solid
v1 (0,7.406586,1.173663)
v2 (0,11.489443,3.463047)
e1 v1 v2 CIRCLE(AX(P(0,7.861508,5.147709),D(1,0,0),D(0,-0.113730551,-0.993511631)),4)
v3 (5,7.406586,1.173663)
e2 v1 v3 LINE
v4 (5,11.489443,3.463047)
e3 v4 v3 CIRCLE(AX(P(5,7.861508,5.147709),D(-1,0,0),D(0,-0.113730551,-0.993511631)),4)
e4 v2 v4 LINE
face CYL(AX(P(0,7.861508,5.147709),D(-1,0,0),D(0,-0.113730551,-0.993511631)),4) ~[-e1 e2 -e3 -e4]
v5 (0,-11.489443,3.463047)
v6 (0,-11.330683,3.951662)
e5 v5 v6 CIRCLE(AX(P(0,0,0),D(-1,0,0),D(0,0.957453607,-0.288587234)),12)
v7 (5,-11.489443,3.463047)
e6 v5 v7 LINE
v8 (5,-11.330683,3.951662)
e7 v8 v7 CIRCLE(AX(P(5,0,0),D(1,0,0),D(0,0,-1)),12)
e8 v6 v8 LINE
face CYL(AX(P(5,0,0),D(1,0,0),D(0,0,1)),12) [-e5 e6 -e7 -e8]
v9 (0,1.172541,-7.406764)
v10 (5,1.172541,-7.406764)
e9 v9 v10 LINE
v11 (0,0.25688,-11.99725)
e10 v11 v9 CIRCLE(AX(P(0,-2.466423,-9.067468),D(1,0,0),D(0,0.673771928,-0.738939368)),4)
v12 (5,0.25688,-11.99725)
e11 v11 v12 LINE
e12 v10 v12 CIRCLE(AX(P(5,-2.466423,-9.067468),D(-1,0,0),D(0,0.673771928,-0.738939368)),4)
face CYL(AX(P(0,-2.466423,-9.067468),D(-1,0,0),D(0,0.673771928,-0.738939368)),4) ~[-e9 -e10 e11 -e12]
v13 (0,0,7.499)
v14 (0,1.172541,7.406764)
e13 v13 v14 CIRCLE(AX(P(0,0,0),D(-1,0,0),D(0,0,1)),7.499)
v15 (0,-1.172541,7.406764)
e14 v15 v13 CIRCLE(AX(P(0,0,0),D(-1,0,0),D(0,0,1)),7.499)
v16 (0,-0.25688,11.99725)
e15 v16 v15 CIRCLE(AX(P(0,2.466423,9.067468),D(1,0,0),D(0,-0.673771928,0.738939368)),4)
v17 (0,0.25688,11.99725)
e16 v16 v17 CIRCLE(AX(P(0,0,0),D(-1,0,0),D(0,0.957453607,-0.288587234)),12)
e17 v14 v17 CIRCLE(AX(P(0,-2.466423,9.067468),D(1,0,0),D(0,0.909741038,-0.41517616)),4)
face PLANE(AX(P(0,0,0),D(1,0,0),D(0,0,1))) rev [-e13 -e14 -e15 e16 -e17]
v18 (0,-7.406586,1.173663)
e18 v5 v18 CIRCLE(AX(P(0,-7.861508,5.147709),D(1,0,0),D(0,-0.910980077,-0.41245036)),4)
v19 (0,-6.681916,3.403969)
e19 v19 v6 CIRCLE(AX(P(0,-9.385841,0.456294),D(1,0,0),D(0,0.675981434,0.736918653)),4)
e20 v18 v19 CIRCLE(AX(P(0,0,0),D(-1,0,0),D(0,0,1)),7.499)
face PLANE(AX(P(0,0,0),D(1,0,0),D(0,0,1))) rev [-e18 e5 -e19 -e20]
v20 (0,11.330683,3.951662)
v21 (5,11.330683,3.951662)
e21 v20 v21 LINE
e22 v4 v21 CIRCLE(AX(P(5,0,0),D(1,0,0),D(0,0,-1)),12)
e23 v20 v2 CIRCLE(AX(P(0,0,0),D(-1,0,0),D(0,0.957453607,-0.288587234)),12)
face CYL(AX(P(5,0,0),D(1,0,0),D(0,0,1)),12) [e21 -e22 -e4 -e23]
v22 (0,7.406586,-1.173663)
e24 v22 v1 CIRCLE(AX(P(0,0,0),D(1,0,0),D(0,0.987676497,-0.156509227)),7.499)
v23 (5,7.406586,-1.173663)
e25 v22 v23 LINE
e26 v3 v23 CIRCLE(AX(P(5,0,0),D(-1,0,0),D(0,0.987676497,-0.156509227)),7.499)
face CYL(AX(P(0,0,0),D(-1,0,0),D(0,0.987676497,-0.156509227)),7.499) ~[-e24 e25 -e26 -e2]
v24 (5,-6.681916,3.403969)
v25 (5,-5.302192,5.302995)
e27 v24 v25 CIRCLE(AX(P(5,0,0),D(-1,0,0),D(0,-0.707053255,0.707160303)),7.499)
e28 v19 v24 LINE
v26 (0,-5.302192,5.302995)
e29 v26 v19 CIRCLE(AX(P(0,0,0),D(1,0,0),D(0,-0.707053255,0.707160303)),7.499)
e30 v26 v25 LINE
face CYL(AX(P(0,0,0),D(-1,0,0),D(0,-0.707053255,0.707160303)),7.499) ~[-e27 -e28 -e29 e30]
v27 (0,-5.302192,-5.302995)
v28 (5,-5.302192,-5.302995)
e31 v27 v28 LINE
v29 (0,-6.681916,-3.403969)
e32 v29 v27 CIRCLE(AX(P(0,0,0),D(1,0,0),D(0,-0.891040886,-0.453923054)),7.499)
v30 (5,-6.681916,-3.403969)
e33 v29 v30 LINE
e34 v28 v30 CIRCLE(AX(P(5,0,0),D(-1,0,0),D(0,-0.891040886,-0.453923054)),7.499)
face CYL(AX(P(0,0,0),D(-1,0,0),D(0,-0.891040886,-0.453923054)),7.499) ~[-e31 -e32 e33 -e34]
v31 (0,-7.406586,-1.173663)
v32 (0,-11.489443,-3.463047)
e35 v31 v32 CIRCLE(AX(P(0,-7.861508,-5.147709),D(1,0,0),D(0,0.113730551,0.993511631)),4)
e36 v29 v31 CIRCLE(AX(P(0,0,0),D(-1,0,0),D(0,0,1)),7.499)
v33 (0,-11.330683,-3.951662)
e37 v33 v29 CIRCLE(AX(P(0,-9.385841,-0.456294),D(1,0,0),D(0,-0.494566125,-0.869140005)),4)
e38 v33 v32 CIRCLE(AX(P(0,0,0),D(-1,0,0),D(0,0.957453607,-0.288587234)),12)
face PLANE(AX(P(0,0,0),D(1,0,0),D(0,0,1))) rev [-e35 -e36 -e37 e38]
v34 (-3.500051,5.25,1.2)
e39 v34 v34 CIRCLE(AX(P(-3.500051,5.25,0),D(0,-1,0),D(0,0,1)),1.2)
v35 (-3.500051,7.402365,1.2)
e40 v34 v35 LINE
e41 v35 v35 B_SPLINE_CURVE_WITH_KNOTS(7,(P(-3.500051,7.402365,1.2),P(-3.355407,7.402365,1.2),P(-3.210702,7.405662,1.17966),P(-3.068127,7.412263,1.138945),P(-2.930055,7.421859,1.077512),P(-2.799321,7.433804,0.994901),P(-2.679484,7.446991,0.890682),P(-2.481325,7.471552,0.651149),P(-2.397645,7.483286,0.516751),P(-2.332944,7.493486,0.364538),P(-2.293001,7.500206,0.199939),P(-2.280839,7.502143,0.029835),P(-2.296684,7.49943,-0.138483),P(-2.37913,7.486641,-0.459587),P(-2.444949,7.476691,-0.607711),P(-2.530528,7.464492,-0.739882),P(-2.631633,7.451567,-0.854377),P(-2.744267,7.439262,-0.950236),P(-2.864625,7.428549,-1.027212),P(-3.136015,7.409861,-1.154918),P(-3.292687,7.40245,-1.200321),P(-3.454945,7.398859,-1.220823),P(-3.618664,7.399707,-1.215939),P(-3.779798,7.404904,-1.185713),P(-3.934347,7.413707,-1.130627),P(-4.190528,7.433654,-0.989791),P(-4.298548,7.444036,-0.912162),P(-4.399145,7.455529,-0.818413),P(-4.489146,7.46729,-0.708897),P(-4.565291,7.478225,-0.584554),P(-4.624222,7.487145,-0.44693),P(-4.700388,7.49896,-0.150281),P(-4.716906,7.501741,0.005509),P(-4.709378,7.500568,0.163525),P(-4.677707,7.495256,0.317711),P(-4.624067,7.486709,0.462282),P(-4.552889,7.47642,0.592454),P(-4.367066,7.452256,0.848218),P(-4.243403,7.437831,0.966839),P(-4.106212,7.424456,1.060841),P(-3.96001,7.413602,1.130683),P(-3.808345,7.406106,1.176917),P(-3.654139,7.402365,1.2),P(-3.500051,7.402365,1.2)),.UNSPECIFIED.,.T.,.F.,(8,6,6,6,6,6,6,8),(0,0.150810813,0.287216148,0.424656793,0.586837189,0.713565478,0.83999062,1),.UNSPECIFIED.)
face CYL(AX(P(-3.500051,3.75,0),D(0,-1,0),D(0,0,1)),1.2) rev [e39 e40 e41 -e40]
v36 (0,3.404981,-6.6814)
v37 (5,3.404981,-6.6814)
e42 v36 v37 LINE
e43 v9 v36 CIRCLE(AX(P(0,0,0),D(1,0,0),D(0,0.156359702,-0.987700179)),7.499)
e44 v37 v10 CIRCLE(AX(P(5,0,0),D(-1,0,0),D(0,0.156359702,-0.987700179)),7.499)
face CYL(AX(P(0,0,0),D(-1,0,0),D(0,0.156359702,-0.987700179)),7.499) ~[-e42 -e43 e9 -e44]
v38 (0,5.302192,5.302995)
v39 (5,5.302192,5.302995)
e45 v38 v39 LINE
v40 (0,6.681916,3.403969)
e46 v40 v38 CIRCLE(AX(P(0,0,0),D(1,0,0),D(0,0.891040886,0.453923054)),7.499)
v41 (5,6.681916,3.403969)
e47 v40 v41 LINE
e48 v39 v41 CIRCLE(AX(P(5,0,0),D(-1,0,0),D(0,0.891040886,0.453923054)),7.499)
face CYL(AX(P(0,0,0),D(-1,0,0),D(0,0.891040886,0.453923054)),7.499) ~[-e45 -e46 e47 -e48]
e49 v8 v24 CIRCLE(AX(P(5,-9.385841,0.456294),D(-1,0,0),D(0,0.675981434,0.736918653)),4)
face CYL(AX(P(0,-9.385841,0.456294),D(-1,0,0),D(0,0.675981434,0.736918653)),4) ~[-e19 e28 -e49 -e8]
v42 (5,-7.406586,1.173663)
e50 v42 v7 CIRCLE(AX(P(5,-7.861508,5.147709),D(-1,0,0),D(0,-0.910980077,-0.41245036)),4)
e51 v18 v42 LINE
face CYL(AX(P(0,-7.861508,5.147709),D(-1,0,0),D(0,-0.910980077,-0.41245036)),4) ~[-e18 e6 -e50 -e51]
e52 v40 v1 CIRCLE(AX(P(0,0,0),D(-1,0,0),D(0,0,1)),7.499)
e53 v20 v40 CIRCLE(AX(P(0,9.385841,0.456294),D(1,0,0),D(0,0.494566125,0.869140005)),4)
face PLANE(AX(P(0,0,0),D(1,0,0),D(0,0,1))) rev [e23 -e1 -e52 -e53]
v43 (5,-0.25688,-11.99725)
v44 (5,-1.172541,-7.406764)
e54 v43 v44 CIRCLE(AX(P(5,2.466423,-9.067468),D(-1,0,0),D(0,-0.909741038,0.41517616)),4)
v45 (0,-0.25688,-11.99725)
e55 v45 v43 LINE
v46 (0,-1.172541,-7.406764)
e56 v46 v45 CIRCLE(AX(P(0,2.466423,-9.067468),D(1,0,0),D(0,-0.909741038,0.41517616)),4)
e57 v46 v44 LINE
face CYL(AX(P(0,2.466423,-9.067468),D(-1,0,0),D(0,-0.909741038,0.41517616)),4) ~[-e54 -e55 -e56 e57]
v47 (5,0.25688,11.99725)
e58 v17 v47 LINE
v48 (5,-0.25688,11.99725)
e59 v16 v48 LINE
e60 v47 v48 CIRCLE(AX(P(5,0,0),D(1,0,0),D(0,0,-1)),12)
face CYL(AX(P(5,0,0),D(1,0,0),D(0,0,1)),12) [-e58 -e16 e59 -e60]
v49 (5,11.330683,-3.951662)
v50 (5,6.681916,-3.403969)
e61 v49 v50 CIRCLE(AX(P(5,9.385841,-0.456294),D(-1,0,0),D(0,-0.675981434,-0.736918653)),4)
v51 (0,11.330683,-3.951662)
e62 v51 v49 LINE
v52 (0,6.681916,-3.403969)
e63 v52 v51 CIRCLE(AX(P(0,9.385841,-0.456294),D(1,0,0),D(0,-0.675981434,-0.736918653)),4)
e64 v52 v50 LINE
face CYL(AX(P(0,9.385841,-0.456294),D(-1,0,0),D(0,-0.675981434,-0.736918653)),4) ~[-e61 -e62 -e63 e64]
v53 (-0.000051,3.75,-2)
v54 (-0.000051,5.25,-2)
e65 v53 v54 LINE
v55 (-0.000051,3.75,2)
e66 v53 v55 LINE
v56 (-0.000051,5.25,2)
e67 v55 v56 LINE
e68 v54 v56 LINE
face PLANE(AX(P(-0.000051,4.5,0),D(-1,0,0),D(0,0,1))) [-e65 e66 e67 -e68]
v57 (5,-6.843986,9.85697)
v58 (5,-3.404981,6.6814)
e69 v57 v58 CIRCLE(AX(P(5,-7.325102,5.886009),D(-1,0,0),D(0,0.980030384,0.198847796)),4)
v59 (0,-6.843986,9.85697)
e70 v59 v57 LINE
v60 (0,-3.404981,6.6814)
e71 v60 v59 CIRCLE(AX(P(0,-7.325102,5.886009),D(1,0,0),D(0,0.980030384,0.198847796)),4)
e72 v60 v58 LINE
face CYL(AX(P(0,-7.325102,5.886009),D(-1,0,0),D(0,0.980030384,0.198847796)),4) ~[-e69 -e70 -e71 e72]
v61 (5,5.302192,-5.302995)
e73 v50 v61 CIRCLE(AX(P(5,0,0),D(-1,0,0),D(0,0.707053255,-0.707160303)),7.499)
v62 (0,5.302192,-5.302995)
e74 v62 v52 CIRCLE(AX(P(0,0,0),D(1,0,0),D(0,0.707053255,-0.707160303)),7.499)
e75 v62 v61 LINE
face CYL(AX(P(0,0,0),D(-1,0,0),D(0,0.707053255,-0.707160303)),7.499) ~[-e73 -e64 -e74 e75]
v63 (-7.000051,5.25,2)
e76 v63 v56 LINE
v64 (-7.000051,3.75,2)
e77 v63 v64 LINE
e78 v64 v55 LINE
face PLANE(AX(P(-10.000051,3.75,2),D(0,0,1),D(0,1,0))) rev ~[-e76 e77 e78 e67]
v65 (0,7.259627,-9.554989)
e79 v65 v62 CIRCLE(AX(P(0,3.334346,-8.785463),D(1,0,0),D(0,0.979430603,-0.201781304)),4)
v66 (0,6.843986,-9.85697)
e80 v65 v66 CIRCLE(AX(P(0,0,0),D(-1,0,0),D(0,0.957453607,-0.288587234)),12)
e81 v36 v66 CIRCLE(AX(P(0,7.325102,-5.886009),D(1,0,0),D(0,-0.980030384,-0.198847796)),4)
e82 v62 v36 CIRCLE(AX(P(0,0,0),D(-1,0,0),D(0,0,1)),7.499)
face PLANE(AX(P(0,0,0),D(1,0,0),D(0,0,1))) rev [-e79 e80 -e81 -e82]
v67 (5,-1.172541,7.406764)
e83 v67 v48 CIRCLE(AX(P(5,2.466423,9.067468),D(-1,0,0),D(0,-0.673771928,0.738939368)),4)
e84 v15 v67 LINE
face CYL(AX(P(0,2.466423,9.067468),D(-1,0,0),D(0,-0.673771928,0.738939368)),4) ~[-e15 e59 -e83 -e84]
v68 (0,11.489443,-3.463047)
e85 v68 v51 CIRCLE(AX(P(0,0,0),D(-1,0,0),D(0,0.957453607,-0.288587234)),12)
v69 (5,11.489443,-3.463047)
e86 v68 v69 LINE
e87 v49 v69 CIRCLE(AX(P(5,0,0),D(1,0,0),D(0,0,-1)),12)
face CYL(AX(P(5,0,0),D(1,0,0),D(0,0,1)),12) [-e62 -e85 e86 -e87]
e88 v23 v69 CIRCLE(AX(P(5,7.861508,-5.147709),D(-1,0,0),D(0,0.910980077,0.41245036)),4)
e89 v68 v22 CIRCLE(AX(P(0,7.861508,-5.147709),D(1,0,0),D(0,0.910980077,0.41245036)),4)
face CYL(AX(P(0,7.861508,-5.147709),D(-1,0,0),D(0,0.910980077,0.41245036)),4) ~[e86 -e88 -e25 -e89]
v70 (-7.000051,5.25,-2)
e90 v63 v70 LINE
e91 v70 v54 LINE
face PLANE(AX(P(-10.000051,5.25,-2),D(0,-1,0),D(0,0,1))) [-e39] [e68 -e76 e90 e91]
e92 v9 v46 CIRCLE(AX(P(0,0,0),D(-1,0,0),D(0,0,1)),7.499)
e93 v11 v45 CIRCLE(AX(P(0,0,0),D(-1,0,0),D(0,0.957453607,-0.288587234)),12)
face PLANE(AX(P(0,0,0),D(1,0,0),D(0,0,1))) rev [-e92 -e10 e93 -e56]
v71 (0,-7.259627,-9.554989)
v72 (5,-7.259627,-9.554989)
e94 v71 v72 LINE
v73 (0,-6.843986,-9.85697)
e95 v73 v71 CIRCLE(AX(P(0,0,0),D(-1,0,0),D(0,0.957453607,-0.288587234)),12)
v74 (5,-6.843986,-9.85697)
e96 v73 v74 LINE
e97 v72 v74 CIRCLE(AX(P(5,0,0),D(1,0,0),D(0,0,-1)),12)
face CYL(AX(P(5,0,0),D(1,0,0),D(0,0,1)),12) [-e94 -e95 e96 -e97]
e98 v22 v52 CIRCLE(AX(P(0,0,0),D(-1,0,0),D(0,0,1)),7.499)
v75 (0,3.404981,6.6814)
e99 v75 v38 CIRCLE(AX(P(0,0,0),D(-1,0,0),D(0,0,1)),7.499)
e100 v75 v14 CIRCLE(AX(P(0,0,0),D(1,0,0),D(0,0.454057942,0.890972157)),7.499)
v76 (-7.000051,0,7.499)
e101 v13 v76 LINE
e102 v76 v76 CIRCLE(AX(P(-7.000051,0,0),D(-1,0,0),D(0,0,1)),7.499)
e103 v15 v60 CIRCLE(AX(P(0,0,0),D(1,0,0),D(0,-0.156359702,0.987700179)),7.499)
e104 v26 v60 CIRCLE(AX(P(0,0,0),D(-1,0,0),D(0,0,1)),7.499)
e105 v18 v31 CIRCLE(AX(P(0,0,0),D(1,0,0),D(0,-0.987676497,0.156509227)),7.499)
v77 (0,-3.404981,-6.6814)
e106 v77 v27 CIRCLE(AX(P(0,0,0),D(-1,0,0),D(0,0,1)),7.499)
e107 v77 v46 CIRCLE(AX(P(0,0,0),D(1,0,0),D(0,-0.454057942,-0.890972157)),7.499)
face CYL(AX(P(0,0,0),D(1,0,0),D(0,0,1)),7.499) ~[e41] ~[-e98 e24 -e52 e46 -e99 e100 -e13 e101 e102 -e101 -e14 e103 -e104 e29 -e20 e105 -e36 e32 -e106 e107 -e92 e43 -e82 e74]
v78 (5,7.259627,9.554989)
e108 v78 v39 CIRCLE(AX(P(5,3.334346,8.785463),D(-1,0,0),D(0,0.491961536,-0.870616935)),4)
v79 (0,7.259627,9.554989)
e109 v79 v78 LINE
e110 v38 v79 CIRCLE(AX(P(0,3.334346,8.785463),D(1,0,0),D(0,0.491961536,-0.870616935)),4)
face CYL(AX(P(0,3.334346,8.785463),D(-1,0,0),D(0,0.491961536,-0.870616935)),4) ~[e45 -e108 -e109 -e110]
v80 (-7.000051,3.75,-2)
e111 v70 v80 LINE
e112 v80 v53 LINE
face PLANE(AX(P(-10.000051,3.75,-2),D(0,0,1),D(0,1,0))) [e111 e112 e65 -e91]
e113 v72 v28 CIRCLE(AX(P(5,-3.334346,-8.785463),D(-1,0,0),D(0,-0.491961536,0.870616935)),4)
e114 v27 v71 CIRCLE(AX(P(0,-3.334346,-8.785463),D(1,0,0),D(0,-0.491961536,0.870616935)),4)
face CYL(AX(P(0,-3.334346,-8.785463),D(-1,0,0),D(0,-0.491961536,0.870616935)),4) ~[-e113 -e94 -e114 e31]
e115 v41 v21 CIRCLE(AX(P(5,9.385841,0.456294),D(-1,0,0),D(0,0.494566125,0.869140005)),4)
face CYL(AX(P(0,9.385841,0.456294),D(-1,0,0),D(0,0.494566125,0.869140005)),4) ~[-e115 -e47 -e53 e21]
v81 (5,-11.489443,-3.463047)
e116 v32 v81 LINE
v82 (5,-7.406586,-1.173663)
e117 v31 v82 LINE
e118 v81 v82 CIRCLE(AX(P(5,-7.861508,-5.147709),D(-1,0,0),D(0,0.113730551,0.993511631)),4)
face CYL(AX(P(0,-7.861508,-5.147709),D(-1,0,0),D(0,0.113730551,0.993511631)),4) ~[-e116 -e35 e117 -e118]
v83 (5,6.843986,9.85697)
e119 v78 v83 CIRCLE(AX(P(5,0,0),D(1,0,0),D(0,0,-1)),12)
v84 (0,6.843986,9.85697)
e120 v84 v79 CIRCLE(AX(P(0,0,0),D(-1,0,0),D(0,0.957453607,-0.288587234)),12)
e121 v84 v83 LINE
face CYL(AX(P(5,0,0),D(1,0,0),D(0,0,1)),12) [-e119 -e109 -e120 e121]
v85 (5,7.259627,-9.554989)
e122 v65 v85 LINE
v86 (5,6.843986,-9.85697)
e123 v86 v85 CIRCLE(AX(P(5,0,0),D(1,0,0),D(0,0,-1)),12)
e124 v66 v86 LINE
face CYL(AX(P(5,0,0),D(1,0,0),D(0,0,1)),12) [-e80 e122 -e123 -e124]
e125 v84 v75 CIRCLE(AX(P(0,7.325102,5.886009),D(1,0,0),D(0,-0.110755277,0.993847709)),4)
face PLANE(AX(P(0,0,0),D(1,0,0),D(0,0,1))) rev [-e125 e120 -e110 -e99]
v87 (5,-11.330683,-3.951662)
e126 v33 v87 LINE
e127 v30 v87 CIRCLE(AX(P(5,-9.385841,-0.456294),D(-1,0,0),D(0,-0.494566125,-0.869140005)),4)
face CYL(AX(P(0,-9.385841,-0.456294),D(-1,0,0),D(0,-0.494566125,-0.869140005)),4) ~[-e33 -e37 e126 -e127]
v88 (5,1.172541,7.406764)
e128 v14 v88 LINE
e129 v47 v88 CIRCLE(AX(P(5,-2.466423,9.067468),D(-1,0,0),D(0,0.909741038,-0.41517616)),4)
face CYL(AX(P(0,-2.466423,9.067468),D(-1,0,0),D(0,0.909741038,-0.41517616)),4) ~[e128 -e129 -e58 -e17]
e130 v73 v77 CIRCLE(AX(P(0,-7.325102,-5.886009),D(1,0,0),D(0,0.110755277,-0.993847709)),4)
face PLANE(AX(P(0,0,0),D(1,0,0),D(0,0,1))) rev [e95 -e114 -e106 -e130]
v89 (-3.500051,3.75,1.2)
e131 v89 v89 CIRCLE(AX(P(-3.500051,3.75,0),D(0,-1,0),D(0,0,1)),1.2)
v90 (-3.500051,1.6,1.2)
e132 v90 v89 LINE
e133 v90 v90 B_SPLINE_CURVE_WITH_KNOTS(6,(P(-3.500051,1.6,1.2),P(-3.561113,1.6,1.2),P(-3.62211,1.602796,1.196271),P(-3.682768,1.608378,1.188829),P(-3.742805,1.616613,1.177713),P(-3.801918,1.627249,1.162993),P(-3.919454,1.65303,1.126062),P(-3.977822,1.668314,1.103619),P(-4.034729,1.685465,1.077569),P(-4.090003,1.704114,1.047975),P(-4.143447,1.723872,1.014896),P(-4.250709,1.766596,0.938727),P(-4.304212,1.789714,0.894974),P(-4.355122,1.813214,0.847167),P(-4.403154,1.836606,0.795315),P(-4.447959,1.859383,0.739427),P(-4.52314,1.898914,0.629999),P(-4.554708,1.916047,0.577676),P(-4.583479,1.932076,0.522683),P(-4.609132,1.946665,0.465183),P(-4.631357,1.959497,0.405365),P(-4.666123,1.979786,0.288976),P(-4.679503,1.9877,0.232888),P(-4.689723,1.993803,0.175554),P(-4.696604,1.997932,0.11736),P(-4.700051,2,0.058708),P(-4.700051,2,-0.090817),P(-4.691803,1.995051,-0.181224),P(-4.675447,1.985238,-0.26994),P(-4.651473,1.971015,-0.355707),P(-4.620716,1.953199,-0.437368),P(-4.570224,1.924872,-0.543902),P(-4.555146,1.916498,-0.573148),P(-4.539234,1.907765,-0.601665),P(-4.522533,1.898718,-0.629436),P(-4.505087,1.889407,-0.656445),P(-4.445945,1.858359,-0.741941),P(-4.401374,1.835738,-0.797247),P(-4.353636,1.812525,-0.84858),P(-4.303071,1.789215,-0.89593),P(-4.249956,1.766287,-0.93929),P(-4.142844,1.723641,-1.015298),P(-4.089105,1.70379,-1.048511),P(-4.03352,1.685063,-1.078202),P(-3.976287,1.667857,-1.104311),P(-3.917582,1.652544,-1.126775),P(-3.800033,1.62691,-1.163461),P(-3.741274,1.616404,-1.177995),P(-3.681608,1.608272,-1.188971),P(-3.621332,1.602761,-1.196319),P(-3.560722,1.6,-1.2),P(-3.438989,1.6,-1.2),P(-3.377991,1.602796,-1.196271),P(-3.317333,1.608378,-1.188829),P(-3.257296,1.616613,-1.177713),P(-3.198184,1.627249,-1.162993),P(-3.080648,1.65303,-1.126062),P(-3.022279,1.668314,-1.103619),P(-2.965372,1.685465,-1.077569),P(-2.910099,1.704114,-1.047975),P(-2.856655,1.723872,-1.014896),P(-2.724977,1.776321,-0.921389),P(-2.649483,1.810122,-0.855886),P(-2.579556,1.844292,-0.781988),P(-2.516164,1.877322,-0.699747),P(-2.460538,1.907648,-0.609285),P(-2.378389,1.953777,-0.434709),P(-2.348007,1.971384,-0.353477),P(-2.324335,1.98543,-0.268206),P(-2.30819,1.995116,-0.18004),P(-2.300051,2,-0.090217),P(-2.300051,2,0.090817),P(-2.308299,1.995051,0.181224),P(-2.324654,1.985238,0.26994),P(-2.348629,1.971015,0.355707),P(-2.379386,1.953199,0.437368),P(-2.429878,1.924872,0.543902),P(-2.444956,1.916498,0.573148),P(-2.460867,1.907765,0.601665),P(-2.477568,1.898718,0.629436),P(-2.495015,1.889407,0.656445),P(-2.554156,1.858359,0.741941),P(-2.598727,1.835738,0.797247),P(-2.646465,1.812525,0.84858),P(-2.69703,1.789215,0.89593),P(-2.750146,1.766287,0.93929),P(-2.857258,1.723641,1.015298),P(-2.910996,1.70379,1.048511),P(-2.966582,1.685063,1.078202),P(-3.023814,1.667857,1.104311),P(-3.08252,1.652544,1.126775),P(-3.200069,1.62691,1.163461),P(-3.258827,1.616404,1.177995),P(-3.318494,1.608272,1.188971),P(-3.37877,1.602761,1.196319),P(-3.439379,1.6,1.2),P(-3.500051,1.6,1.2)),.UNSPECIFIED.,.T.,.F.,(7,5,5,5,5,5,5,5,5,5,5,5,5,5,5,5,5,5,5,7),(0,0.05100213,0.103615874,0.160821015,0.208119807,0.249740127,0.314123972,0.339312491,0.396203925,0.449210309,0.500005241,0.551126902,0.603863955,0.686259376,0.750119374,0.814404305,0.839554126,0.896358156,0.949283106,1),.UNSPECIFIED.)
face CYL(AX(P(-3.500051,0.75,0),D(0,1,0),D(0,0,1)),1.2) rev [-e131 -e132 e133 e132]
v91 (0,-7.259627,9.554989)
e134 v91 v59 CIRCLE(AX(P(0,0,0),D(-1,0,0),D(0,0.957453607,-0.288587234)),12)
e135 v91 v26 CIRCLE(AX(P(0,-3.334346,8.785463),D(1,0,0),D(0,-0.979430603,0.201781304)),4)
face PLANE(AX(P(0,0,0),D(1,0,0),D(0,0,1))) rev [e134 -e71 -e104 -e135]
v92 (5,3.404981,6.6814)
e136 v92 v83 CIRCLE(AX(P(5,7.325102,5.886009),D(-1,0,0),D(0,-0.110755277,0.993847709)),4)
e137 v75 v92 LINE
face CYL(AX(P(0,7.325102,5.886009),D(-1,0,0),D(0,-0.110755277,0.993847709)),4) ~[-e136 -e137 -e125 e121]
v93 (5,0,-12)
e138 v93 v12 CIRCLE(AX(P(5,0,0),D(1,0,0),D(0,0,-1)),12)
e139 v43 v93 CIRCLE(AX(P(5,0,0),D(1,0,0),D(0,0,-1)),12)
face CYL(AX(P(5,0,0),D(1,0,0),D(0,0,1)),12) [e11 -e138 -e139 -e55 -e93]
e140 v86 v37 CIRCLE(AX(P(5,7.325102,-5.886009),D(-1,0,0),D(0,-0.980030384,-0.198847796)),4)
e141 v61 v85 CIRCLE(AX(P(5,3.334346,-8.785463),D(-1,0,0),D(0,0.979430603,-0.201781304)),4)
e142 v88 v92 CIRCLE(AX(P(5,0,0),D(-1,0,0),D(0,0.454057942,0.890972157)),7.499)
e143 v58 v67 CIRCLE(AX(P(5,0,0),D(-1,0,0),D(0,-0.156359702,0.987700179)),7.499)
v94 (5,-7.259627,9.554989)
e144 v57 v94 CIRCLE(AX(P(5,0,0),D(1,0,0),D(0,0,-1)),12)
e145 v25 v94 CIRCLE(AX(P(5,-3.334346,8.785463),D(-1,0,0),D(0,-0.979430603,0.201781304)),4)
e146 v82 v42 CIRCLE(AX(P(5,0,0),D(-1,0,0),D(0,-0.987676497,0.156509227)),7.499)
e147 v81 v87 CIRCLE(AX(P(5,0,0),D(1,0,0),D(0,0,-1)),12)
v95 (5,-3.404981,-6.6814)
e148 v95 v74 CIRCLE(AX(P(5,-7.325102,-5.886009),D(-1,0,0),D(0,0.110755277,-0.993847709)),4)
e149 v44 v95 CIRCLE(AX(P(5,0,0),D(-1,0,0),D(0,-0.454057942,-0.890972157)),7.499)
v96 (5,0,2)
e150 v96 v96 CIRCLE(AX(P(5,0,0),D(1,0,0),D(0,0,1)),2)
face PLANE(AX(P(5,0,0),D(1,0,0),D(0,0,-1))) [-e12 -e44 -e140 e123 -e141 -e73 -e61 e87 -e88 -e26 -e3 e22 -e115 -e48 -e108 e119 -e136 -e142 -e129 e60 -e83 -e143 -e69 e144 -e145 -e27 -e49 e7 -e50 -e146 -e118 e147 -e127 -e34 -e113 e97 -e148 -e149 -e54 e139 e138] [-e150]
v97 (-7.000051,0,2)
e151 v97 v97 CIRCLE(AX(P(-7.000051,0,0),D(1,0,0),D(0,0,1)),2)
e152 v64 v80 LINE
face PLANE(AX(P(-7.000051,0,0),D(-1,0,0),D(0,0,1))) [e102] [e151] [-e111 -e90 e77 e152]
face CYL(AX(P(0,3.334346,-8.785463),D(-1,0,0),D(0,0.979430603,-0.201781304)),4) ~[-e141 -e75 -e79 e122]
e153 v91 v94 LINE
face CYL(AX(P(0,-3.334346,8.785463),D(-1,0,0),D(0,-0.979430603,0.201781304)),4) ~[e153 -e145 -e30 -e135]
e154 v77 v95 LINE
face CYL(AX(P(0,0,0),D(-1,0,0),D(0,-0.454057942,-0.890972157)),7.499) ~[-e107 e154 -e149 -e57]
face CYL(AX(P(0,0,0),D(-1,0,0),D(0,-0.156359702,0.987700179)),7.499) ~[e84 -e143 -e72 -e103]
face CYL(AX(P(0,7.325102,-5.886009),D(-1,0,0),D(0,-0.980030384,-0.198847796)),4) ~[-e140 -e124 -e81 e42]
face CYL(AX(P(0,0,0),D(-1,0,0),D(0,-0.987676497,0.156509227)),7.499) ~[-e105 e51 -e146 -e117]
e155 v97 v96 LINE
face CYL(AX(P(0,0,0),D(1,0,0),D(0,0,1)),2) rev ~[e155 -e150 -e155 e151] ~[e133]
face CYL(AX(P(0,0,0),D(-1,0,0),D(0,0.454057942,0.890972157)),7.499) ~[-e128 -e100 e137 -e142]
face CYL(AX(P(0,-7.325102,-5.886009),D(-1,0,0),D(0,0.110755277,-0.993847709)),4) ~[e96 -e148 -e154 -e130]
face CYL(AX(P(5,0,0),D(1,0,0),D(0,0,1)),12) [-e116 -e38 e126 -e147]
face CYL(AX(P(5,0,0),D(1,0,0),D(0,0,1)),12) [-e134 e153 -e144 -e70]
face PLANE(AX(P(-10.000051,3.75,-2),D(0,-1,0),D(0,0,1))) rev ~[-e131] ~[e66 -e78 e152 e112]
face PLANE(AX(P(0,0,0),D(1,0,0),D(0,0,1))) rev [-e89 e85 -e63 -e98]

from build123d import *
from build123d.topology import SkipClean

# Parameters (mm, degrees)
BASPROSKE_W                  = 10
BASPROSKE_H                  = 12
TOOTHCUT_DEPTH               = 20.697715604
TEETHCUTS_COUNT              = 10
TEETHCUTS_ANGLE              = 324
HUBNEAONESKE_R               = 7.499
HUBNEARONE_DEPTH             = 10.0000508
BORSKE_R                     = 2
BORE_DEPTH                   = 20.0000508
ESQUISSE1_W                  = 4
ESQUISSE1_H                  = 1.5
ENL_V_MAT_EXTRU_1_DEPTH      = 10
ESQUISSE8_R                  = 7.499
ENL_V_MAT_EXTRU_4_DEPTH      = 3
ENL_V_MAT_EXTRU_2_REACH      = 23.823
ENL_V_MAT_EXTRU_2_END_RADIUS = 7.499
ESQUISSE6_R                  = 1.2
ESQUISSE7_R                  = 12
ENL_V_MAT_EXTRU_3_DEPTH      = 5


with BuildPart() as part:
    # BasProSke → Base-Revolve (revolve)
    with BuildSketch(Plane(origin=(0, 0, 0), x_dir=(1, 0, 0), z_dir=(0, 1, 0)), mode=Mode.PRIVATE) as base_revolve_sk:
        with Locations((5, 6)):
            Rectangle(BASPROSKE_W, BASPROSKE_H)
    revolve(base_revolve_sk.sketch.rotate(Axis((-10, 0, 0), (1, 0, 0)), 180), axis=Axis((-10, 0, 0), (1, 0, 0)))

    # TooCutSke → ToothCut (cut, through all)
    with BuildSketch(Plane(origin=(0, 0, 0), x_dir=(0, 0, -1), z_dir=(1, 0, 0))):
        with BuildLine():
            ThreePointArc((1.173662691, 7.406586048), (0, 7.499), (-1.173662691, 7.406586048))
            ThreePointArc((-1.173662691, 7.406586048), (-1.668191438, 9.834565786), (-3.497907776, 11.50542856))
            ThreePointArc((-3.497907776, 11.50542856), (0, 12.0254), (3.497907776, 11.50542856))
            ThreePointArc((3.497907776, 11.50542856), (1.668191438, 9.834565786), (1.173662691, 7.406586048))
        make_face()
    toothcut = extrude(amount=TOOTHCUT_DEPTH, mode=Mode.SUBTRACT)

    # TeethCuts: ToothCut ×10 about axis
    teethcuts_axis = Axis((-10, 0, 0), (1, 0, 0))
    for i in range(1, TEETHCUTS_COUNT):
        add(toothcut.rotate(teethcuts_axis, i * TEETHCUTS_ANGLE / (TEETHCUTS_COUNT - 1)), mode=Mode.SUBTRACT)

    # HubNeaOneSke → HubNearOne (add)
    with SkipClean():  # the faces are left unmerged after this step: merging them gives an invalid solid
        with BuildSketch(Plane.ZY):
            Circle(HUBNEAONESKE_R)
        extrude(amount=HUBNEARONE_DEPTH)

    # BorSke → Bore (cut, symmetric)
    with SkipClean():  # the faces are left unmerged after this step: merging them gives an invalid solid
        with BuildSketch(Plane(origin=(0, 0, 0), x_dir=(0, 0, -1), z_dir=(1, 0, 0))):
            with Locations(Location((0, 0, 0), (0, 0, 180))):
                Circle(BORSKE_R)
        extrude(amount=BORE_DEPTH, both=True, mode=Mode.SUBTRACT)

    # Esquisse1 → Enlèv. mat.-Extru.1 (cut)
    with SkipClean():  # the faces are left unmerged after this step: merging them gives an invalid solid
        with BuildSketch(Plane.ZY.offset(10.0000508)):
            with Locations((0, 4.5)):
                Rectangle(ESQUISSE1_W, ESQUISSE1_H)
        extrude(amount=-ENL_V_MAT_EXTRU_1_DEPTH, mode=Mode.SUBTRACT)

    # Esquisse8 → Enlèv. mat.-Extru.4 (cut)
    with SkipClean():  # the faces are left unmerged after this step: merging them gives an invalid solid
        with BuildSketch(Plane.ZY.offset(10.0000508)):
            Circle(ESQUISSE8_R)
        extrude(amount=-ENL_V_MAT_EXTRU_4_DEPTH, mode=Mode.SUBTRACT)

    # Esquisse4 → Dégagement M21 (revolve, cut)
    with SkipClean():  # the faces are left unmerged after this step: merging them gives an invalid solid
        with BuildSketch(Plane(origin=(-3.5000508, 3.75, 0), x_dir=(0, 0, 1), z_dir=(1, 0, 0))):
            Polygon((0, 0), (0, 3.721032743), (1.2, 3), (1.2, 0), align=None)
        revolve(axis=Axis((-3.5000508, 10.1, 0), (0, -1, 0)), mode=Mode.SUBTRACT)

    # Enlèv. mat.-Extru.2: up to this cylinder (the profile starts inside it)
    with SkipClean():  # the faces are left unmerged after this step: merging them gives an invalid solid
        enl_v_mat_extru_2_end = Plane(origin=(-3.500051, 0, 0), z_dir=(-1, 0, 0)) * Cylinder(ENL_V_MAT_EXTRU_2_END_RADIUS, 63.644, mode=Mode.PRIVATE)
        # Esquisse6 → Enlèv. mat.-Extru.2 (cut, up to the surface)
        with BuildSketch(Plane(origin=(0, 3.75, 0), x_dir=(-1, 0, 0), z_dir=(0, 1, 0)), mode=Mode.PRIVATE) as enl_v_mat_extru_2_sk1:
            with Locations(Location((3.5000508, 0, 0), (0, 0, 90))):
                Circle(ESQUISSE6_R)
        enl_v_mat_extru_2_tool1 = extrude(enl_v_mat_extru_2_sk1.sketch, amount=ENL_V_MAT_EXTRU_2_REACH, mode=Mode.PRIVATE) & enl_v_mat_extru_2_end
        add(enl_v_mat_extru_2_tool1.solids().sort_by_distance((-3.500051, 3.75, 0))[0], mode=Mode.SUBTRACT)

    # Esquisse7 → Enlèv. mat.-Extru.3 (cut)
    with SkipClean():  # the faces are left unmerged after this step: merging them gives an invalid solid
        with BuildSketch(Plane(origin=(10, 0, 0), x_dir=(0, 0, -1), z_dir=(1, 0, 0))):
            Circle(ESQUISSE7_R)
        extrude(amount=-ENL_V_MAT_EXTRU_3_DEPTH, mode=Mode.SUBTRACT)


solid = part.part
